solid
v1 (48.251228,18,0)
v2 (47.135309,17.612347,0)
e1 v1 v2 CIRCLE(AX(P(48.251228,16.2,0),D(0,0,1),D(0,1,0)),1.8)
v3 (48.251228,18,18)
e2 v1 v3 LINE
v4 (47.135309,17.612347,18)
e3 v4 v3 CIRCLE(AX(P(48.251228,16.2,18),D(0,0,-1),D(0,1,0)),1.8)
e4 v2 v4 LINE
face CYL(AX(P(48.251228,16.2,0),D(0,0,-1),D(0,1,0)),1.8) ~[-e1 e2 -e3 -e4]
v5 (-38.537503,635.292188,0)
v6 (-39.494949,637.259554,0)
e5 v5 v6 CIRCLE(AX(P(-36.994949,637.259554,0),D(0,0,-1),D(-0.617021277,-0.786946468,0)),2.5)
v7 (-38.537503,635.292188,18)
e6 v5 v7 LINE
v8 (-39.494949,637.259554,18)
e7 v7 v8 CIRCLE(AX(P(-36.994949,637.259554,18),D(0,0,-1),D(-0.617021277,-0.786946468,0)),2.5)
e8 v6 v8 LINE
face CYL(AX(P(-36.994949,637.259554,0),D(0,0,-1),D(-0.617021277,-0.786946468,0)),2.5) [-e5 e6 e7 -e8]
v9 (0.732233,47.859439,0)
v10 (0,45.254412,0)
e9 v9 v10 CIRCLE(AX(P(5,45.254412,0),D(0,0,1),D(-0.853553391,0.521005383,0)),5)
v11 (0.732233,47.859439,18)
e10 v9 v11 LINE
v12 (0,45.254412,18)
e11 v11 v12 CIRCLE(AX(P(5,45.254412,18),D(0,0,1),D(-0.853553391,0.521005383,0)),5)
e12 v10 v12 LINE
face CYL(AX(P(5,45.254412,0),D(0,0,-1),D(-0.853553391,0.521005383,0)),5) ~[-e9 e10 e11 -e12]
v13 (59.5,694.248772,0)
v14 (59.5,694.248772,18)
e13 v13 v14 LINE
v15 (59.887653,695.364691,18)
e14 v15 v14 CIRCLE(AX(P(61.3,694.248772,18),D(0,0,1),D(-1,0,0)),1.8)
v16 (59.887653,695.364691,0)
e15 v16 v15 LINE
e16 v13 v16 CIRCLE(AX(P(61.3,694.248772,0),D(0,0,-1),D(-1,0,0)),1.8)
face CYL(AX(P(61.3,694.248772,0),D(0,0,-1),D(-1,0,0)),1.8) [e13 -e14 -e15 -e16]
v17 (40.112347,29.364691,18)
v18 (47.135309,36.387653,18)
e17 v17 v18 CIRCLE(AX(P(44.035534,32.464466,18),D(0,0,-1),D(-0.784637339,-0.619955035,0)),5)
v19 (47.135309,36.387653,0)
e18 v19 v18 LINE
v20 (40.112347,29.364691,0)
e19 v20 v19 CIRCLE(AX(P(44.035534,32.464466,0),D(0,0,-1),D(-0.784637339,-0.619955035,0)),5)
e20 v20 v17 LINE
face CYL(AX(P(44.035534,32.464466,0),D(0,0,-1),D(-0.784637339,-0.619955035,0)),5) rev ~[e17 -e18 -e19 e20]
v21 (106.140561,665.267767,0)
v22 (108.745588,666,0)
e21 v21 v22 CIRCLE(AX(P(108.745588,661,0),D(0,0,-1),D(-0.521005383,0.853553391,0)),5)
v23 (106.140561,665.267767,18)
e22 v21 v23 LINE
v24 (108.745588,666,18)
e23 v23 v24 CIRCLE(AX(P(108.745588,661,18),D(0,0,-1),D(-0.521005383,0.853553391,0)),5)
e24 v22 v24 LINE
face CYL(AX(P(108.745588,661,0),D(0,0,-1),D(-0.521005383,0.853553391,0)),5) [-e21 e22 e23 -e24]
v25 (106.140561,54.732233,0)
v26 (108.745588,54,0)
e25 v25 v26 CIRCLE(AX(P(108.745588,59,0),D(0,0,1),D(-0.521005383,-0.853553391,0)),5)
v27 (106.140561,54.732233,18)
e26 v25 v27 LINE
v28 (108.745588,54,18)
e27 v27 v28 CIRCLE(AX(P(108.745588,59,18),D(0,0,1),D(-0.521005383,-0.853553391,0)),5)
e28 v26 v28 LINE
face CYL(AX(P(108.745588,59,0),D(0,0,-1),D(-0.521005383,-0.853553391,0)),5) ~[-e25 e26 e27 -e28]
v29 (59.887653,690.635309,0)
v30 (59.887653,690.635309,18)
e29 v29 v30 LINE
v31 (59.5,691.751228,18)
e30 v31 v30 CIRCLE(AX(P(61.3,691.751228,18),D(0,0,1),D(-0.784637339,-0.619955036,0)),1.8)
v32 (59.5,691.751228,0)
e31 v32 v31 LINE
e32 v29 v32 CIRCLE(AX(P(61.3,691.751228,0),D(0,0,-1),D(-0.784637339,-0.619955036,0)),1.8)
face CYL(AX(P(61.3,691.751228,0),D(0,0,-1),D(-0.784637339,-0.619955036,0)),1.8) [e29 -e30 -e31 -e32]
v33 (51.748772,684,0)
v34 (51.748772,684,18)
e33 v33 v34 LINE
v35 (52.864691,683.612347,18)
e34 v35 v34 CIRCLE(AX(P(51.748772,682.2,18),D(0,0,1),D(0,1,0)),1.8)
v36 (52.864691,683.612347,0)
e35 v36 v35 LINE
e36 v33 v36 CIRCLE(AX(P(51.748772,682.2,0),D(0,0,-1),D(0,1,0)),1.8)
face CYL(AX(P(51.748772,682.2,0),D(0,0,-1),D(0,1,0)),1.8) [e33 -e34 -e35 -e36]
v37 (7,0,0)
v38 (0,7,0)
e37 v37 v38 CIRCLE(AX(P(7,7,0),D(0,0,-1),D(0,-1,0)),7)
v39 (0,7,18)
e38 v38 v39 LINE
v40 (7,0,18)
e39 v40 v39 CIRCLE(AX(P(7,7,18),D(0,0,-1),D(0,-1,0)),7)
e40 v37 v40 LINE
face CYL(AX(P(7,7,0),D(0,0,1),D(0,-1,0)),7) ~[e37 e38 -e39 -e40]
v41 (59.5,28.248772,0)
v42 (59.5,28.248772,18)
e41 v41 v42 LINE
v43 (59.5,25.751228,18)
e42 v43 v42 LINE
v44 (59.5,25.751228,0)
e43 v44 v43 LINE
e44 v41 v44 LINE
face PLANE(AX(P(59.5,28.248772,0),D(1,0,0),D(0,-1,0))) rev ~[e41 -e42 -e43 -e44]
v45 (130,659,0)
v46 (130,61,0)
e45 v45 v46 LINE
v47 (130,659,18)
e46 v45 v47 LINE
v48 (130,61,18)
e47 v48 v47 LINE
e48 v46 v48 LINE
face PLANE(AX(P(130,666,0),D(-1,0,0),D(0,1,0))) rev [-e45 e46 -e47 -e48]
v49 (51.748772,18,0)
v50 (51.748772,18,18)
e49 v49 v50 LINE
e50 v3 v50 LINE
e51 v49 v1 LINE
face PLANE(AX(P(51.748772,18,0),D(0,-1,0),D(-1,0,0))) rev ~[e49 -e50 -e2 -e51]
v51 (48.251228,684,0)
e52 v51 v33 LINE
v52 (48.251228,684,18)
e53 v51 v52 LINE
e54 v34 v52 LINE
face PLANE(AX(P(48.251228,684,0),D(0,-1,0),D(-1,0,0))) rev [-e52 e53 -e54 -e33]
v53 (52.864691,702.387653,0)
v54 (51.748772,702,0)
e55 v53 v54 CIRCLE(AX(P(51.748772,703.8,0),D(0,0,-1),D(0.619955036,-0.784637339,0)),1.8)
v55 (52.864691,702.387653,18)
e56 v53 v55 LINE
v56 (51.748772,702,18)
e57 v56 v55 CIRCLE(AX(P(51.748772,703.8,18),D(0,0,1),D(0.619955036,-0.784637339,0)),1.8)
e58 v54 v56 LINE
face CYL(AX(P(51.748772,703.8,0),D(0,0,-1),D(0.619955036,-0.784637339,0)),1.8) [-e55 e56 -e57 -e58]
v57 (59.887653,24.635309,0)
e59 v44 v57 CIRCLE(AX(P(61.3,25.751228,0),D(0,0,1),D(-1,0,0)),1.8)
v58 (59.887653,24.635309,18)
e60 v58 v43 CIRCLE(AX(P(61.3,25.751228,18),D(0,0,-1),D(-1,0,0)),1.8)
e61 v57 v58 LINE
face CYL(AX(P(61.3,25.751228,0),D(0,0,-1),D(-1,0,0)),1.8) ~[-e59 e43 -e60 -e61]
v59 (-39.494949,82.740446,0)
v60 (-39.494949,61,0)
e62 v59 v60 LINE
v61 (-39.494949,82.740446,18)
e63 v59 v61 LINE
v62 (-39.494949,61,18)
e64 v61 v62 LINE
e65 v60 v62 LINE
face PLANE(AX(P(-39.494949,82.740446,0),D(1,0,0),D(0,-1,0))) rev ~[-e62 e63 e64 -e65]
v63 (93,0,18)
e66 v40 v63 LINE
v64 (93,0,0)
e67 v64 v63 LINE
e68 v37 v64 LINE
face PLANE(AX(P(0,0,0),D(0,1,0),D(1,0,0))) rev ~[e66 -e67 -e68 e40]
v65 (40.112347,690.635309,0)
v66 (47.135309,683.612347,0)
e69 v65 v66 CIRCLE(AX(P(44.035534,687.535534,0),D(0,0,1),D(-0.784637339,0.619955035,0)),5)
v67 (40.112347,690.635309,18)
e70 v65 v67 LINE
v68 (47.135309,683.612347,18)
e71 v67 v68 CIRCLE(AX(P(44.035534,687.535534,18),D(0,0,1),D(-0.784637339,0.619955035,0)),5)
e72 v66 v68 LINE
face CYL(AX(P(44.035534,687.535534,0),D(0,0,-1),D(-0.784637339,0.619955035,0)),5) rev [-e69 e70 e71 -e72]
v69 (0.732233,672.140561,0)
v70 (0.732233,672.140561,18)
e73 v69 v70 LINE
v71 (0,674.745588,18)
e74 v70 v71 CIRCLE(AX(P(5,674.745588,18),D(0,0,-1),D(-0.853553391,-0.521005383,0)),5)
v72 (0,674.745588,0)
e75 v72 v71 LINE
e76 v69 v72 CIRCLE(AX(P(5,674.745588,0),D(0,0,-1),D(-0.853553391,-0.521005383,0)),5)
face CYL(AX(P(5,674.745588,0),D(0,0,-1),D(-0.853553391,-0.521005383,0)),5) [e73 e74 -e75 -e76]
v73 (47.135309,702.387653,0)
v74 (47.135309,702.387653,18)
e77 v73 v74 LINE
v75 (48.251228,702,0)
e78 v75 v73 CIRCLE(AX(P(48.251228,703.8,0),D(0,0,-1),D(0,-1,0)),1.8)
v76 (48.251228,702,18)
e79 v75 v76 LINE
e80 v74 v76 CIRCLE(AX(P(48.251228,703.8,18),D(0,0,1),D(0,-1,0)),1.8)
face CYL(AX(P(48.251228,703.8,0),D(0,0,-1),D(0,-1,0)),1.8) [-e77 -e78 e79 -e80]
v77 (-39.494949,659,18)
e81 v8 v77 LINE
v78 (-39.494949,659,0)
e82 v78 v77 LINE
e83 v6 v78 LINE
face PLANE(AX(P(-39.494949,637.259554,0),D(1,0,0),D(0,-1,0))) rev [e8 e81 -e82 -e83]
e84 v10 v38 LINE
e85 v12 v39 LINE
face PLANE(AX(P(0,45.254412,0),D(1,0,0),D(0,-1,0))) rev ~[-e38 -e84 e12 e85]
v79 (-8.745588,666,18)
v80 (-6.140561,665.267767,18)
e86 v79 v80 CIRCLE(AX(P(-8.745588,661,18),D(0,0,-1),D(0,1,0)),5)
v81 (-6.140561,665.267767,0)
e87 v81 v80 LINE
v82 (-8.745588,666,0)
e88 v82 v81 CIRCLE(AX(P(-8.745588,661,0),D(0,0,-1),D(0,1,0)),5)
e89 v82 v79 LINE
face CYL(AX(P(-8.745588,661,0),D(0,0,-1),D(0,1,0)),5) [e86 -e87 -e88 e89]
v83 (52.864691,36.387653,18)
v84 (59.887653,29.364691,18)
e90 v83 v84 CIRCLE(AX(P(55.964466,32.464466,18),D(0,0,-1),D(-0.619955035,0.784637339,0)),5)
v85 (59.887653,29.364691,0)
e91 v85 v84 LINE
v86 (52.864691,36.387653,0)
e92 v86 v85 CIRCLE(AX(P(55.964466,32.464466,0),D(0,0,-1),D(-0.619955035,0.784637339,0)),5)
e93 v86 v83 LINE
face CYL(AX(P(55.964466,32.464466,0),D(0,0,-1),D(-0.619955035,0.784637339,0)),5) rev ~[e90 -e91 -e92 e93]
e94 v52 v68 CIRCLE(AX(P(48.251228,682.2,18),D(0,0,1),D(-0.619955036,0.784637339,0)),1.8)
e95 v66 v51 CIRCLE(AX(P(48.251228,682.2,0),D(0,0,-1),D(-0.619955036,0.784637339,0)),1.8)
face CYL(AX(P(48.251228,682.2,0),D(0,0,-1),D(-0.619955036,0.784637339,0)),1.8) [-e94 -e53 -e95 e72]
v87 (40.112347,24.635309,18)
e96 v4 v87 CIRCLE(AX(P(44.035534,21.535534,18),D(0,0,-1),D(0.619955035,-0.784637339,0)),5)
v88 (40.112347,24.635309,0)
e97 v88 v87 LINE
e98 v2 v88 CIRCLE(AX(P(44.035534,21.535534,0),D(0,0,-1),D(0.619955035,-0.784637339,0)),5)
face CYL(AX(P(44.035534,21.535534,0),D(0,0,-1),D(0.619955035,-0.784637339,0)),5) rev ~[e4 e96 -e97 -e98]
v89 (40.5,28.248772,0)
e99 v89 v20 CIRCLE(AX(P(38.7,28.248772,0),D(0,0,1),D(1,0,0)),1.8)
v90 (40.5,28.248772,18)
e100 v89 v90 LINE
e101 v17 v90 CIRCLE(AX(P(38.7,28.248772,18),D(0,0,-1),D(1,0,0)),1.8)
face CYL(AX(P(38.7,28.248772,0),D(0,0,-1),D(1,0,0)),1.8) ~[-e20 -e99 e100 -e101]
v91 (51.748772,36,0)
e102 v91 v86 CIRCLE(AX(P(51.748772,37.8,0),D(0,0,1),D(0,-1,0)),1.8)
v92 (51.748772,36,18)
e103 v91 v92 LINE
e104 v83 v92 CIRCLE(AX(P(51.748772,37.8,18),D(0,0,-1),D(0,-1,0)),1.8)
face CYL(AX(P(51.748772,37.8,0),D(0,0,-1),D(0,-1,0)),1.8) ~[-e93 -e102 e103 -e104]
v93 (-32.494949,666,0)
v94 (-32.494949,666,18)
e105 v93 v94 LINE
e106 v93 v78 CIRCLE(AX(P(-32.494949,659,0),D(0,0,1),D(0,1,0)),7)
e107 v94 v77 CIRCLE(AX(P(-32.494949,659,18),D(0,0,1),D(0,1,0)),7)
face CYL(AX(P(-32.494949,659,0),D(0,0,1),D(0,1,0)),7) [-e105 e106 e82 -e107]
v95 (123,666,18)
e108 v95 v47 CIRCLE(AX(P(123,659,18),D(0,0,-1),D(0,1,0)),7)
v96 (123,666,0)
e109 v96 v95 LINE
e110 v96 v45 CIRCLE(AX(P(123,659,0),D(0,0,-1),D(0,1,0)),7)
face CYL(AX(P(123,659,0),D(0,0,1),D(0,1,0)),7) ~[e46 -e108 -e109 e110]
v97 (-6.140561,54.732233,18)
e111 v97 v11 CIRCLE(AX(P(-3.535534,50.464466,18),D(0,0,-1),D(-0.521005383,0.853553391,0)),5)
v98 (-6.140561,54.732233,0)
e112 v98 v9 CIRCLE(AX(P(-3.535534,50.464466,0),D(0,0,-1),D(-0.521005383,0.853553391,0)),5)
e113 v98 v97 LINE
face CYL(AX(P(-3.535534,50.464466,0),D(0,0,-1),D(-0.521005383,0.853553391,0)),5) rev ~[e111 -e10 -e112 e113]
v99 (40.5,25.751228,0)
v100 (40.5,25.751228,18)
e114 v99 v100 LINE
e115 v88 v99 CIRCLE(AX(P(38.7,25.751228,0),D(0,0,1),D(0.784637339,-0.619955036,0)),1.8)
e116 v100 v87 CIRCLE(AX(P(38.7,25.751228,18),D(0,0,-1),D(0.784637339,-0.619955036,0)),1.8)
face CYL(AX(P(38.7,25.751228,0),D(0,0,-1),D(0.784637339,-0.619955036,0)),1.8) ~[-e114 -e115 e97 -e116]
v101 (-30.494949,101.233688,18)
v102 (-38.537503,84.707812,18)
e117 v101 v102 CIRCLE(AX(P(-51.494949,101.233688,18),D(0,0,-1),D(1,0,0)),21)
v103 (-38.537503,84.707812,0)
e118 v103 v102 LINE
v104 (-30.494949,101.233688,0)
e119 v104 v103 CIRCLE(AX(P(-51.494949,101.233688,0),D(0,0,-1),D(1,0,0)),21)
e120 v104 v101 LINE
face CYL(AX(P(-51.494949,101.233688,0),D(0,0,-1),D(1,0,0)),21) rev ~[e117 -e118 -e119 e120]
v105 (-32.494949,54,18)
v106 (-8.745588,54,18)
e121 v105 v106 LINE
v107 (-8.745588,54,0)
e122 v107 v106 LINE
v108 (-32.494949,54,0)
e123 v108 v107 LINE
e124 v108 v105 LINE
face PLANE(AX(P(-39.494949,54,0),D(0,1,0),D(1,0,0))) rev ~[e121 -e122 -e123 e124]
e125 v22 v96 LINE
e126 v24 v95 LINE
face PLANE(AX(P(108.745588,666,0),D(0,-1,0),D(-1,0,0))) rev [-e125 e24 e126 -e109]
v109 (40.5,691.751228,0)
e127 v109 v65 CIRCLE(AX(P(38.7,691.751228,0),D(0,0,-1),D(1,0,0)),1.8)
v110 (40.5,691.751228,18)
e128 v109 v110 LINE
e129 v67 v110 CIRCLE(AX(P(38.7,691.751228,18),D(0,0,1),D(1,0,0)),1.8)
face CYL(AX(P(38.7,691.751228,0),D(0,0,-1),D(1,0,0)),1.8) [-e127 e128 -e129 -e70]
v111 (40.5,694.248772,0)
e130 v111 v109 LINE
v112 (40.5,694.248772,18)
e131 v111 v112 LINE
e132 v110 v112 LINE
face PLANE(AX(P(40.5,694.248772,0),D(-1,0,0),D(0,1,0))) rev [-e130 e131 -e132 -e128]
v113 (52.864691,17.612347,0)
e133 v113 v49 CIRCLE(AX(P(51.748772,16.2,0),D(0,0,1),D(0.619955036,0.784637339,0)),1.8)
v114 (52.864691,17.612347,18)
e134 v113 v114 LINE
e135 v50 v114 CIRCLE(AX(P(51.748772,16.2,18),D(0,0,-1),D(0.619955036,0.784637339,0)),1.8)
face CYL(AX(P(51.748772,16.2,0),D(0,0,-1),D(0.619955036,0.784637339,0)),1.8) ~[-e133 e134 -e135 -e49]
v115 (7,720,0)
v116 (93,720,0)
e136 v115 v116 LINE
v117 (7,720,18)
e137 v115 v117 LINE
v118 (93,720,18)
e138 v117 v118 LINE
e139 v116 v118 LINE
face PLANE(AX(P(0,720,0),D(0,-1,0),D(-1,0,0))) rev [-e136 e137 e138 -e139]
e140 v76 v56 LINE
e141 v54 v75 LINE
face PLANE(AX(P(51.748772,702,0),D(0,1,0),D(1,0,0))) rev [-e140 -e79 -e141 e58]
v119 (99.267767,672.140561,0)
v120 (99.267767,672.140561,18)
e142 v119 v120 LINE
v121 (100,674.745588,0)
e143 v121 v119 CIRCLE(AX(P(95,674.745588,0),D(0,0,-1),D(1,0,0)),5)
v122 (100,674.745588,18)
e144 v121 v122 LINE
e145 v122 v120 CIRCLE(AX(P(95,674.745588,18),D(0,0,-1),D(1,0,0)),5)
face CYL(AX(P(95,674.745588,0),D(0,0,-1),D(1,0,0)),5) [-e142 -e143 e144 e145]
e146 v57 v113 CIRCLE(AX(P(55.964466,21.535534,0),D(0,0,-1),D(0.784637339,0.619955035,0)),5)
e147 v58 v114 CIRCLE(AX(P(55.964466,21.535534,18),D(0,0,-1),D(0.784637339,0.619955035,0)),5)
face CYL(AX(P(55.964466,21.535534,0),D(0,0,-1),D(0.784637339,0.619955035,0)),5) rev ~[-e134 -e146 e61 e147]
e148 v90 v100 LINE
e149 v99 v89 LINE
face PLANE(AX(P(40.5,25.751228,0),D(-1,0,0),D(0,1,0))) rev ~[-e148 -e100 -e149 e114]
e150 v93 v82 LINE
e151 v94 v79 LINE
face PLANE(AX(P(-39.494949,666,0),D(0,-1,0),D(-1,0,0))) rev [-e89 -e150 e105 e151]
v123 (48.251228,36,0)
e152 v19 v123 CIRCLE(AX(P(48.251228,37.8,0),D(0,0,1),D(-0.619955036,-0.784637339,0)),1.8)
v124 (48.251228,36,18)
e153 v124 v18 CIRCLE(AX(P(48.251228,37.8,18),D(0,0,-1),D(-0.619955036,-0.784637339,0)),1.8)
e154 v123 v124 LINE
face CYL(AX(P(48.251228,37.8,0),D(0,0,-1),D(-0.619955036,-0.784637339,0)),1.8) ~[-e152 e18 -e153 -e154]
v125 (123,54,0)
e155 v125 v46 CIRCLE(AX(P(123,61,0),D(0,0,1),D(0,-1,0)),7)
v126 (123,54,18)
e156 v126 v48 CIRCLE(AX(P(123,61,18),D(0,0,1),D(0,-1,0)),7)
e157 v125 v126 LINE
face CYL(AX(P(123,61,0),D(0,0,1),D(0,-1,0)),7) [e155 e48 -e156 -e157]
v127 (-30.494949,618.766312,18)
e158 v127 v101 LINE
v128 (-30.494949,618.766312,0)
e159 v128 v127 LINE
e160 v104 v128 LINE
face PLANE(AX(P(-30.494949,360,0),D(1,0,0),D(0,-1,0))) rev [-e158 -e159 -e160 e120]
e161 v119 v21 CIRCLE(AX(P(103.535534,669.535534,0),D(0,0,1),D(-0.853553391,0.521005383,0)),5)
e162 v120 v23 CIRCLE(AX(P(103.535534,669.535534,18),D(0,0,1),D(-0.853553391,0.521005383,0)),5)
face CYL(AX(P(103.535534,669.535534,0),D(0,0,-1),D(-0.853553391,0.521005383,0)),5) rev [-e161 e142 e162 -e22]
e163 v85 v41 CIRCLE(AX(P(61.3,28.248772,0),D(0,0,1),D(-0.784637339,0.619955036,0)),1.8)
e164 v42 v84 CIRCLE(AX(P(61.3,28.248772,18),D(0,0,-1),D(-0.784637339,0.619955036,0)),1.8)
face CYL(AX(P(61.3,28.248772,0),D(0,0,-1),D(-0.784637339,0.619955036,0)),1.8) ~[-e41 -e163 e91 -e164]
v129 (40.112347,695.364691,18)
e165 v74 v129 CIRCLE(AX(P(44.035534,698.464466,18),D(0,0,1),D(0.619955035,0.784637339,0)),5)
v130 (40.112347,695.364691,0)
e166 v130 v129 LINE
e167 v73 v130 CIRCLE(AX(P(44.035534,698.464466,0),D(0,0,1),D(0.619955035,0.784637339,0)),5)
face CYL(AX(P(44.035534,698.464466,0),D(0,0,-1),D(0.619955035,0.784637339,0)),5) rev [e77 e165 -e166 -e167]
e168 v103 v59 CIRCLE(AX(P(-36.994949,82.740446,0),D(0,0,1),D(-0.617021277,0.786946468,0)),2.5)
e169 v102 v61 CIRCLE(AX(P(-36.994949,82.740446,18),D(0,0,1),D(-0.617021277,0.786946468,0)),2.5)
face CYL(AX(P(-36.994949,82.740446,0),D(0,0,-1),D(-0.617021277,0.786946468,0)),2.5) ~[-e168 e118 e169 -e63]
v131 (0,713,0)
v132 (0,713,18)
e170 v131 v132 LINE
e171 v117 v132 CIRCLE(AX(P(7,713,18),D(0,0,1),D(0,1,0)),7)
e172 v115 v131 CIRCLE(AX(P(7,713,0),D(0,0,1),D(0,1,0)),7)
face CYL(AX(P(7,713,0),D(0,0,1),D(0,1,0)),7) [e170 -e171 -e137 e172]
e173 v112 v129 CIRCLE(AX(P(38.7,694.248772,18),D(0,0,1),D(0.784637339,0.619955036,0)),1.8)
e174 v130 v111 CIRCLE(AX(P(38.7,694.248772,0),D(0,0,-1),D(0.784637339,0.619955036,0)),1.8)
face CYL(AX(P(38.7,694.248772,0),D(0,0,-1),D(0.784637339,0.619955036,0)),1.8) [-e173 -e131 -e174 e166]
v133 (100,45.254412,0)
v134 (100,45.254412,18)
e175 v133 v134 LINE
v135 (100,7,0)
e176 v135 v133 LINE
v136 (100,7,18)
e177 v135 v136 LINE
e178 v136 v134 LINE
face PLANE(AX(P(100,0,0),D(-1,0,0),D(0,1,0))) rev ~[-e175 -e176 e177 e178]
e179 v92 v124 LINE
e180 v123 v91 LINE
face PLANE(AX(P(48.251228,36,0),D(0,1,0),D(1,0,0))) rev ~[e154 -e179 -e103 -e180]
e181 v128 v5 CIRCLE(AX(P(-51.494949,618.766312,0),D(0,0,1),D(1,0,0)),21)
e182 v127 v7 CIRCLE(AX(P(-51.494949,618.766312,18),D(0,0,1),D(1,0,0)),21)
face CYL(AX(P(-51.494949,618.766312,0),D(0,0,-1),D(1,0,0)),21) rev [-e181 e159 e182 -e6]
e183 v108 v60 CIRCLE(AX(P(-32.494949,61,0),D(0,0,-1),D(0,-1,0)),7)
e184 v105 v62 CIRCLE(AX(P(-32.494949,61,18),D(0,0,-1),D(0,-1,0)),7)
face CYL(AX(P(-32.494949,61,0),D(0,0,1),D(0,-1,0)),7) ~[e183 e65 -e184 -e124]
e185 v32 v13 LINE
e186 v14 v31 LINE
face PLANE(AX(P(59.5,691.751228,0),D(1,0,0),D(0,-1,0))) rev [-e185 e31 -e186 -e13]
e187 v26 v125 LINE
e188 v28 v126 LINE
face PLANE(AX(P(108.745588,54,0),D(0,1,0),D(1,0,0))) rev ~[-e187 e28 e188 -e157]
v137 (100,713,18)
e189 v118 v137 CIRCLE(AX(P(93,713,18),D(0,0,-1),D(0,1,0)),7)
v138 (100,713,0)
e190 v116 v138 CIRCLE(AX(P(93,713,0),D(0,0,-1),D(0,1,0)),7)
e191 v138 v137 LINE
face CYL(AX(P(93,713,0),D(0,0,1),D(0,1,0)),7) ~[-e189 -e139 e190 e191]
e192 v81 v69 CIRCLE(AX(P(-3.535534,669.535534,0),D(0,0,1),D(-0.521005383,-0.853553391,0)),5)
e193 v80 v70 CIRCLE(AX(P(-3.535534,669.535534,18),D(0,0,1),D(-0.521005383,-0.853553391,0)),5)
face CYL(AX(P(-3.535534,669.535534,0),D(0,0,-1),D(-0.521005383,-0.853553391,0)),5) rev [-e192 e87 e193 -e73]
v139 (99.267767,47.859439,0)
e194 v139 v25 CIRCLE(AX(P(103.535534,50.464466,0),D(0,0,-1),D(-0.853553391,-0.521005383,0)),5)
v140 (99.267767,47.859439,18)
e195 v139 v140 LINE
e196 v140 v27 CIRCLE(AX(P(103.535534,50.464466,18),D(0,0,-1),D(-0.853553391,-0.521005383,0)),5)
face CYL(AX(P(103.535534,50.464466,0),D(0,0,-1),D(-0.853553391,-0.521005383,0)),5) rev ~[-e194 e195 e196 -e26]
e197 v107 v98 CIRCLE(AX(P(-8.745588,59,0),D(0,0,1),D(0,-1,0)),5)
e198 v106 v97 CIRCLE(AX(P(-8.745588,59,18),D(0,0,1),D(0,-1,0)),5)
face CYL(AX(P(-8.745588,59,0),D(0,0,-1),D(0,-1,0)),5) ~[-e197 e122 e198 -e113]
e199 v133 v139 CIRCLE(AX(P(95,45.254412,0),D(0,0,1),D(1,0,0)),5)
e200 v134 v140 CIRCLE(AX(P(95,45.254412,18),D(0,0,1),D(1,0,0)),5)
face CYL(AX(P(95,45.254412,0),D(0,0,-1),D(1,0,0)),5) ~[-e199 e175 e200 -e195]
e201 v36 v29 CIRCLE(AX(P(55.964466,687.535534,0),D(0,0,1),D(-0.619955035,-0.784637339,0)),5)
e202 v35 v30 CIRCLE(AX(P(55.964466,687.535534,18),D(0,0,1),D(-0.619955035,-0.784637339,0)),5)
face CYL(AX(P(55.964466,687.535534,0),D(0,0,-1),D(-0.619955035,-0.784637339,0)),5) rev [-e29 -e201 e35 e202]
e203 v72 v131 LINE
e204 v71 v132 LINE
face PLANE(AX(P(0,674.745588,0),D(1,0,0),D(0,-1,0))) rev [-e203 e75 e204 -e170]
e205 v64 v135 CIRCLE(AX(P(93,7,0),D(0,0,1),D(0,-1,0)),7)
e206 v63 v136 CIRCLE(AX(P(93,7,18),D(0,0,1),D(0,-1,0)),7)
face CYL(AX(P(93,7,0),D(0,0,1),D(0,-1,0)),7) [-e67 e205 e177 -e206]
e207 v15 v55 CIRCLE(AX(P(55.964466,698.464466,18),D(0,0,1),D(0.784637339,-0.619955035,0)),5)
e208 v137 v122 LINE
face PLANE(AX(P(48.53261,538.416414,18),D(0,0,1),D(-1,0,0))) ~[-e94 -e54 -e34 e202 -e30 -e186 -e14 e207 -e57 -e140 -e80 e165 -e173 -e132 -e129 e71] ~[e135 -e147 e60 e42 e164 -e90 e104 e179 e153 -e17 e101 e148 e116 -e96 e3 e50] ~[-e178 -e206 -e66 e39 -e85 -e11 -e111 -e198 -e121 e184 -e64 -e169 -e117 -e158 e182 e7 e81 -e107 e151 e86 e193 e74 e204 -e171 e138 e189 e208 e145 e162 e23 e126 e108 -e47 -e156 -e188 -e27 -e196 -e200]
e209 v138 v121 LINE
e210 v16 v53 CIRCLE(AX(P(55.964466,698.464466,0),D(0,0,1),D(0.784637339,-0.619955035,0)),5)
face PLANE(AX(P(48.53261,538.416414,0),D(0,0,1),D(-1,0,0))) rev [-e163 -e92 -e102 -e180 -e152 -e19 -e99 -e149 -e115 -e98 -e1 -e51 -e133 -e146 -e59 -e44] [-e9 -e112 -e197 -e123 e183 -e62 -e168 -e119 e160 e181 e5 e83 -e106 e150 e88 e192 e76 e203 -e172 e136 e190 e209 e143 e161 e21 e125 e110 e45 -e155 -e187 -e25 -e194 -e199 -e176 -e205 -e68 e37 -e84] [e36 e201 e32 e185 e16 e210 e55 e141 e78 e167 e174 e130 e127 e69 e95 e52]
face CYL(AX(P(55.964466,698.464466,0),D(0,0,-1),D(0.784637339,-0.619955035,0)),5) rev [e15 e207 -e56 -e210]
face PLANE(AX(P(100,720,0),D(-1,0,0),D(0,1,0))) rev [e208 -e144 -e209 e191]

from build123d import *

# Parameters (mm, degrees)
BOSS_EXTRU_2_DEPTH      = 18
ENL_V_MAT_EXTRU_1_DEPTH = 19
CONG_1_R                = 7


with BuildPart() as part:
    # Esquisse2 → Boss.-Extru.2 (new body)
    with BuildSketch(Plane.XY):
        with BuildLine():
            Line((0, 0), (100, 0))
            Line((100, 0), (100, 45.254412261))
            ThreePointArc((100, 45.254412261), (99.813462099, 46.607402512), (99.267766953, 47.859439178))
            ThreePointArc((99.267766953, 47.859439178), (100, 54), (106.140560822, 54.732233047))
            ThreePointArc((106.140560822, 54.732233047), (107.392597488, 54.186537901), (108.745587739, 54))
            Line((108.745587739, 54), (130, 54))
            Line((130, 54), (130, 360))
            Line((130, 360), (-30.494949366, 360))
            Line((-30.494949366, 360), (-30.494949366, 101.23368794))
            ThreePointArc((-30.494949366, 101.23368794), (-32.612333247, 92.044193475), (-38.537502558, 84.707812102))
            ThreePointArc((-38.537502558, 84.707812102), (-39.242879856, 83.834433367), (-39.494949366, 82.740445931))
            Line((-39.494949366, 82.740445931), (-39.494949366, 54))
            Line((-39.494949366, 54), (-8.745587739, 54))
            ThreePointArc((-8.745587739, 54), (-7.392597488, 54.186537901), (-6.140560822, 54.732233047))
            ThreePointArc((-6.140560822, 54.732233047), (0, 54), (0.732233047, 47.859439178))
            ThreePointArc((0.732233047, 47.859439178), (0.186537901, 46.607402512), (0, 45.254412261))
            Line((0, 45.254412261), (0, 0))
        make_face()
    extrude(amount=BOSS_EXTRU_2_DEPTH)

    # Esquisse1 → Enlèv. mat.-Extru.1 (cut, through all)
    with BuildSketch(Plane.XY):
        with BuildLine():
            Line((59.5, 28.248771852), (59.5, 25.751228148))
            ThreePointArc((59.5, 25.751228148), (59.599672829, 25.160561143), (59.88765279, 24.635309084))
            ThreePointArc((59.88765279, 24.635309084), (59.5, 18), (52.864690916, 17.61234721))
            ThreePointArc((52.864690916, 17.61234721), (52.339438857, 17.900327171), (51.748771852, 18))
            Line((51.748771852, 18), (48.251228148, 18))
            ThreePointArc((48.251228148, 18), (47.660561143, 17.900327171), (47.135309084, 17.61234721))
            ThreePointArc((47.135309084, 17.61234721), (40.5, 18), (40.11234721, 24.635309084))
            ThreePointArc((40.11234721, 24.635309084), (40.400327171, 25.160561143), (40.5, 25.751228148))
            Line((40.5, 25.751228148), (40.5, 28.248771852))
            ThreePointArc((40.5, 28.248771852), (40.400327171, 28.839438857), (40.11234721, 29.364690916))
            ThreePointArc((40.11234721, 29.364690916), (40.5, 36), (47.135309084, 36.38765279))
            ThreePointArc((47.135309084, 36.38765279), (47.660561143, 36.099672829), (48.251228148, 36))
            Line((48.251228148, 36), (51.748771852, 36))
            ThreePointArc((51.748771852, 36), (52.339438857, 36.099672829), (52.864690916, 36.38765279))
            ThreePointArc((52.864690916, 36.38765279), (59.5, 36), (59.88765279, 29.364690916))
            ThreePointArc((59.88765279, 29.364690916), (59.599672829, 28.839438857), (59.5, 28.248771852))
        make_face()
    extrude(amount=ENL_V_MAT_EXTRU_1_DEPTH, mode=Mode.SUBTRACT)

    # Congé1
    cong_1_edges = [part.edges().sort_by_distance(p)[0] for p in [
        (-39.494949366, 54, 9),
        (130, 54, 9),
        (100, 0, 9),
        (0, 0, 9),
    ]]
    fillet(cong_1_edges, radius=CONG_1_R)

    # Symétrie1: part across plane


with BuildPart() as part_1:
    add(part.part)
    add(part.part.mirror(Plane(origin=(130, 360, 18), x_dir=(0, 0, 1), z_dir=(0, -1, 0))))


solid = part_1.part
